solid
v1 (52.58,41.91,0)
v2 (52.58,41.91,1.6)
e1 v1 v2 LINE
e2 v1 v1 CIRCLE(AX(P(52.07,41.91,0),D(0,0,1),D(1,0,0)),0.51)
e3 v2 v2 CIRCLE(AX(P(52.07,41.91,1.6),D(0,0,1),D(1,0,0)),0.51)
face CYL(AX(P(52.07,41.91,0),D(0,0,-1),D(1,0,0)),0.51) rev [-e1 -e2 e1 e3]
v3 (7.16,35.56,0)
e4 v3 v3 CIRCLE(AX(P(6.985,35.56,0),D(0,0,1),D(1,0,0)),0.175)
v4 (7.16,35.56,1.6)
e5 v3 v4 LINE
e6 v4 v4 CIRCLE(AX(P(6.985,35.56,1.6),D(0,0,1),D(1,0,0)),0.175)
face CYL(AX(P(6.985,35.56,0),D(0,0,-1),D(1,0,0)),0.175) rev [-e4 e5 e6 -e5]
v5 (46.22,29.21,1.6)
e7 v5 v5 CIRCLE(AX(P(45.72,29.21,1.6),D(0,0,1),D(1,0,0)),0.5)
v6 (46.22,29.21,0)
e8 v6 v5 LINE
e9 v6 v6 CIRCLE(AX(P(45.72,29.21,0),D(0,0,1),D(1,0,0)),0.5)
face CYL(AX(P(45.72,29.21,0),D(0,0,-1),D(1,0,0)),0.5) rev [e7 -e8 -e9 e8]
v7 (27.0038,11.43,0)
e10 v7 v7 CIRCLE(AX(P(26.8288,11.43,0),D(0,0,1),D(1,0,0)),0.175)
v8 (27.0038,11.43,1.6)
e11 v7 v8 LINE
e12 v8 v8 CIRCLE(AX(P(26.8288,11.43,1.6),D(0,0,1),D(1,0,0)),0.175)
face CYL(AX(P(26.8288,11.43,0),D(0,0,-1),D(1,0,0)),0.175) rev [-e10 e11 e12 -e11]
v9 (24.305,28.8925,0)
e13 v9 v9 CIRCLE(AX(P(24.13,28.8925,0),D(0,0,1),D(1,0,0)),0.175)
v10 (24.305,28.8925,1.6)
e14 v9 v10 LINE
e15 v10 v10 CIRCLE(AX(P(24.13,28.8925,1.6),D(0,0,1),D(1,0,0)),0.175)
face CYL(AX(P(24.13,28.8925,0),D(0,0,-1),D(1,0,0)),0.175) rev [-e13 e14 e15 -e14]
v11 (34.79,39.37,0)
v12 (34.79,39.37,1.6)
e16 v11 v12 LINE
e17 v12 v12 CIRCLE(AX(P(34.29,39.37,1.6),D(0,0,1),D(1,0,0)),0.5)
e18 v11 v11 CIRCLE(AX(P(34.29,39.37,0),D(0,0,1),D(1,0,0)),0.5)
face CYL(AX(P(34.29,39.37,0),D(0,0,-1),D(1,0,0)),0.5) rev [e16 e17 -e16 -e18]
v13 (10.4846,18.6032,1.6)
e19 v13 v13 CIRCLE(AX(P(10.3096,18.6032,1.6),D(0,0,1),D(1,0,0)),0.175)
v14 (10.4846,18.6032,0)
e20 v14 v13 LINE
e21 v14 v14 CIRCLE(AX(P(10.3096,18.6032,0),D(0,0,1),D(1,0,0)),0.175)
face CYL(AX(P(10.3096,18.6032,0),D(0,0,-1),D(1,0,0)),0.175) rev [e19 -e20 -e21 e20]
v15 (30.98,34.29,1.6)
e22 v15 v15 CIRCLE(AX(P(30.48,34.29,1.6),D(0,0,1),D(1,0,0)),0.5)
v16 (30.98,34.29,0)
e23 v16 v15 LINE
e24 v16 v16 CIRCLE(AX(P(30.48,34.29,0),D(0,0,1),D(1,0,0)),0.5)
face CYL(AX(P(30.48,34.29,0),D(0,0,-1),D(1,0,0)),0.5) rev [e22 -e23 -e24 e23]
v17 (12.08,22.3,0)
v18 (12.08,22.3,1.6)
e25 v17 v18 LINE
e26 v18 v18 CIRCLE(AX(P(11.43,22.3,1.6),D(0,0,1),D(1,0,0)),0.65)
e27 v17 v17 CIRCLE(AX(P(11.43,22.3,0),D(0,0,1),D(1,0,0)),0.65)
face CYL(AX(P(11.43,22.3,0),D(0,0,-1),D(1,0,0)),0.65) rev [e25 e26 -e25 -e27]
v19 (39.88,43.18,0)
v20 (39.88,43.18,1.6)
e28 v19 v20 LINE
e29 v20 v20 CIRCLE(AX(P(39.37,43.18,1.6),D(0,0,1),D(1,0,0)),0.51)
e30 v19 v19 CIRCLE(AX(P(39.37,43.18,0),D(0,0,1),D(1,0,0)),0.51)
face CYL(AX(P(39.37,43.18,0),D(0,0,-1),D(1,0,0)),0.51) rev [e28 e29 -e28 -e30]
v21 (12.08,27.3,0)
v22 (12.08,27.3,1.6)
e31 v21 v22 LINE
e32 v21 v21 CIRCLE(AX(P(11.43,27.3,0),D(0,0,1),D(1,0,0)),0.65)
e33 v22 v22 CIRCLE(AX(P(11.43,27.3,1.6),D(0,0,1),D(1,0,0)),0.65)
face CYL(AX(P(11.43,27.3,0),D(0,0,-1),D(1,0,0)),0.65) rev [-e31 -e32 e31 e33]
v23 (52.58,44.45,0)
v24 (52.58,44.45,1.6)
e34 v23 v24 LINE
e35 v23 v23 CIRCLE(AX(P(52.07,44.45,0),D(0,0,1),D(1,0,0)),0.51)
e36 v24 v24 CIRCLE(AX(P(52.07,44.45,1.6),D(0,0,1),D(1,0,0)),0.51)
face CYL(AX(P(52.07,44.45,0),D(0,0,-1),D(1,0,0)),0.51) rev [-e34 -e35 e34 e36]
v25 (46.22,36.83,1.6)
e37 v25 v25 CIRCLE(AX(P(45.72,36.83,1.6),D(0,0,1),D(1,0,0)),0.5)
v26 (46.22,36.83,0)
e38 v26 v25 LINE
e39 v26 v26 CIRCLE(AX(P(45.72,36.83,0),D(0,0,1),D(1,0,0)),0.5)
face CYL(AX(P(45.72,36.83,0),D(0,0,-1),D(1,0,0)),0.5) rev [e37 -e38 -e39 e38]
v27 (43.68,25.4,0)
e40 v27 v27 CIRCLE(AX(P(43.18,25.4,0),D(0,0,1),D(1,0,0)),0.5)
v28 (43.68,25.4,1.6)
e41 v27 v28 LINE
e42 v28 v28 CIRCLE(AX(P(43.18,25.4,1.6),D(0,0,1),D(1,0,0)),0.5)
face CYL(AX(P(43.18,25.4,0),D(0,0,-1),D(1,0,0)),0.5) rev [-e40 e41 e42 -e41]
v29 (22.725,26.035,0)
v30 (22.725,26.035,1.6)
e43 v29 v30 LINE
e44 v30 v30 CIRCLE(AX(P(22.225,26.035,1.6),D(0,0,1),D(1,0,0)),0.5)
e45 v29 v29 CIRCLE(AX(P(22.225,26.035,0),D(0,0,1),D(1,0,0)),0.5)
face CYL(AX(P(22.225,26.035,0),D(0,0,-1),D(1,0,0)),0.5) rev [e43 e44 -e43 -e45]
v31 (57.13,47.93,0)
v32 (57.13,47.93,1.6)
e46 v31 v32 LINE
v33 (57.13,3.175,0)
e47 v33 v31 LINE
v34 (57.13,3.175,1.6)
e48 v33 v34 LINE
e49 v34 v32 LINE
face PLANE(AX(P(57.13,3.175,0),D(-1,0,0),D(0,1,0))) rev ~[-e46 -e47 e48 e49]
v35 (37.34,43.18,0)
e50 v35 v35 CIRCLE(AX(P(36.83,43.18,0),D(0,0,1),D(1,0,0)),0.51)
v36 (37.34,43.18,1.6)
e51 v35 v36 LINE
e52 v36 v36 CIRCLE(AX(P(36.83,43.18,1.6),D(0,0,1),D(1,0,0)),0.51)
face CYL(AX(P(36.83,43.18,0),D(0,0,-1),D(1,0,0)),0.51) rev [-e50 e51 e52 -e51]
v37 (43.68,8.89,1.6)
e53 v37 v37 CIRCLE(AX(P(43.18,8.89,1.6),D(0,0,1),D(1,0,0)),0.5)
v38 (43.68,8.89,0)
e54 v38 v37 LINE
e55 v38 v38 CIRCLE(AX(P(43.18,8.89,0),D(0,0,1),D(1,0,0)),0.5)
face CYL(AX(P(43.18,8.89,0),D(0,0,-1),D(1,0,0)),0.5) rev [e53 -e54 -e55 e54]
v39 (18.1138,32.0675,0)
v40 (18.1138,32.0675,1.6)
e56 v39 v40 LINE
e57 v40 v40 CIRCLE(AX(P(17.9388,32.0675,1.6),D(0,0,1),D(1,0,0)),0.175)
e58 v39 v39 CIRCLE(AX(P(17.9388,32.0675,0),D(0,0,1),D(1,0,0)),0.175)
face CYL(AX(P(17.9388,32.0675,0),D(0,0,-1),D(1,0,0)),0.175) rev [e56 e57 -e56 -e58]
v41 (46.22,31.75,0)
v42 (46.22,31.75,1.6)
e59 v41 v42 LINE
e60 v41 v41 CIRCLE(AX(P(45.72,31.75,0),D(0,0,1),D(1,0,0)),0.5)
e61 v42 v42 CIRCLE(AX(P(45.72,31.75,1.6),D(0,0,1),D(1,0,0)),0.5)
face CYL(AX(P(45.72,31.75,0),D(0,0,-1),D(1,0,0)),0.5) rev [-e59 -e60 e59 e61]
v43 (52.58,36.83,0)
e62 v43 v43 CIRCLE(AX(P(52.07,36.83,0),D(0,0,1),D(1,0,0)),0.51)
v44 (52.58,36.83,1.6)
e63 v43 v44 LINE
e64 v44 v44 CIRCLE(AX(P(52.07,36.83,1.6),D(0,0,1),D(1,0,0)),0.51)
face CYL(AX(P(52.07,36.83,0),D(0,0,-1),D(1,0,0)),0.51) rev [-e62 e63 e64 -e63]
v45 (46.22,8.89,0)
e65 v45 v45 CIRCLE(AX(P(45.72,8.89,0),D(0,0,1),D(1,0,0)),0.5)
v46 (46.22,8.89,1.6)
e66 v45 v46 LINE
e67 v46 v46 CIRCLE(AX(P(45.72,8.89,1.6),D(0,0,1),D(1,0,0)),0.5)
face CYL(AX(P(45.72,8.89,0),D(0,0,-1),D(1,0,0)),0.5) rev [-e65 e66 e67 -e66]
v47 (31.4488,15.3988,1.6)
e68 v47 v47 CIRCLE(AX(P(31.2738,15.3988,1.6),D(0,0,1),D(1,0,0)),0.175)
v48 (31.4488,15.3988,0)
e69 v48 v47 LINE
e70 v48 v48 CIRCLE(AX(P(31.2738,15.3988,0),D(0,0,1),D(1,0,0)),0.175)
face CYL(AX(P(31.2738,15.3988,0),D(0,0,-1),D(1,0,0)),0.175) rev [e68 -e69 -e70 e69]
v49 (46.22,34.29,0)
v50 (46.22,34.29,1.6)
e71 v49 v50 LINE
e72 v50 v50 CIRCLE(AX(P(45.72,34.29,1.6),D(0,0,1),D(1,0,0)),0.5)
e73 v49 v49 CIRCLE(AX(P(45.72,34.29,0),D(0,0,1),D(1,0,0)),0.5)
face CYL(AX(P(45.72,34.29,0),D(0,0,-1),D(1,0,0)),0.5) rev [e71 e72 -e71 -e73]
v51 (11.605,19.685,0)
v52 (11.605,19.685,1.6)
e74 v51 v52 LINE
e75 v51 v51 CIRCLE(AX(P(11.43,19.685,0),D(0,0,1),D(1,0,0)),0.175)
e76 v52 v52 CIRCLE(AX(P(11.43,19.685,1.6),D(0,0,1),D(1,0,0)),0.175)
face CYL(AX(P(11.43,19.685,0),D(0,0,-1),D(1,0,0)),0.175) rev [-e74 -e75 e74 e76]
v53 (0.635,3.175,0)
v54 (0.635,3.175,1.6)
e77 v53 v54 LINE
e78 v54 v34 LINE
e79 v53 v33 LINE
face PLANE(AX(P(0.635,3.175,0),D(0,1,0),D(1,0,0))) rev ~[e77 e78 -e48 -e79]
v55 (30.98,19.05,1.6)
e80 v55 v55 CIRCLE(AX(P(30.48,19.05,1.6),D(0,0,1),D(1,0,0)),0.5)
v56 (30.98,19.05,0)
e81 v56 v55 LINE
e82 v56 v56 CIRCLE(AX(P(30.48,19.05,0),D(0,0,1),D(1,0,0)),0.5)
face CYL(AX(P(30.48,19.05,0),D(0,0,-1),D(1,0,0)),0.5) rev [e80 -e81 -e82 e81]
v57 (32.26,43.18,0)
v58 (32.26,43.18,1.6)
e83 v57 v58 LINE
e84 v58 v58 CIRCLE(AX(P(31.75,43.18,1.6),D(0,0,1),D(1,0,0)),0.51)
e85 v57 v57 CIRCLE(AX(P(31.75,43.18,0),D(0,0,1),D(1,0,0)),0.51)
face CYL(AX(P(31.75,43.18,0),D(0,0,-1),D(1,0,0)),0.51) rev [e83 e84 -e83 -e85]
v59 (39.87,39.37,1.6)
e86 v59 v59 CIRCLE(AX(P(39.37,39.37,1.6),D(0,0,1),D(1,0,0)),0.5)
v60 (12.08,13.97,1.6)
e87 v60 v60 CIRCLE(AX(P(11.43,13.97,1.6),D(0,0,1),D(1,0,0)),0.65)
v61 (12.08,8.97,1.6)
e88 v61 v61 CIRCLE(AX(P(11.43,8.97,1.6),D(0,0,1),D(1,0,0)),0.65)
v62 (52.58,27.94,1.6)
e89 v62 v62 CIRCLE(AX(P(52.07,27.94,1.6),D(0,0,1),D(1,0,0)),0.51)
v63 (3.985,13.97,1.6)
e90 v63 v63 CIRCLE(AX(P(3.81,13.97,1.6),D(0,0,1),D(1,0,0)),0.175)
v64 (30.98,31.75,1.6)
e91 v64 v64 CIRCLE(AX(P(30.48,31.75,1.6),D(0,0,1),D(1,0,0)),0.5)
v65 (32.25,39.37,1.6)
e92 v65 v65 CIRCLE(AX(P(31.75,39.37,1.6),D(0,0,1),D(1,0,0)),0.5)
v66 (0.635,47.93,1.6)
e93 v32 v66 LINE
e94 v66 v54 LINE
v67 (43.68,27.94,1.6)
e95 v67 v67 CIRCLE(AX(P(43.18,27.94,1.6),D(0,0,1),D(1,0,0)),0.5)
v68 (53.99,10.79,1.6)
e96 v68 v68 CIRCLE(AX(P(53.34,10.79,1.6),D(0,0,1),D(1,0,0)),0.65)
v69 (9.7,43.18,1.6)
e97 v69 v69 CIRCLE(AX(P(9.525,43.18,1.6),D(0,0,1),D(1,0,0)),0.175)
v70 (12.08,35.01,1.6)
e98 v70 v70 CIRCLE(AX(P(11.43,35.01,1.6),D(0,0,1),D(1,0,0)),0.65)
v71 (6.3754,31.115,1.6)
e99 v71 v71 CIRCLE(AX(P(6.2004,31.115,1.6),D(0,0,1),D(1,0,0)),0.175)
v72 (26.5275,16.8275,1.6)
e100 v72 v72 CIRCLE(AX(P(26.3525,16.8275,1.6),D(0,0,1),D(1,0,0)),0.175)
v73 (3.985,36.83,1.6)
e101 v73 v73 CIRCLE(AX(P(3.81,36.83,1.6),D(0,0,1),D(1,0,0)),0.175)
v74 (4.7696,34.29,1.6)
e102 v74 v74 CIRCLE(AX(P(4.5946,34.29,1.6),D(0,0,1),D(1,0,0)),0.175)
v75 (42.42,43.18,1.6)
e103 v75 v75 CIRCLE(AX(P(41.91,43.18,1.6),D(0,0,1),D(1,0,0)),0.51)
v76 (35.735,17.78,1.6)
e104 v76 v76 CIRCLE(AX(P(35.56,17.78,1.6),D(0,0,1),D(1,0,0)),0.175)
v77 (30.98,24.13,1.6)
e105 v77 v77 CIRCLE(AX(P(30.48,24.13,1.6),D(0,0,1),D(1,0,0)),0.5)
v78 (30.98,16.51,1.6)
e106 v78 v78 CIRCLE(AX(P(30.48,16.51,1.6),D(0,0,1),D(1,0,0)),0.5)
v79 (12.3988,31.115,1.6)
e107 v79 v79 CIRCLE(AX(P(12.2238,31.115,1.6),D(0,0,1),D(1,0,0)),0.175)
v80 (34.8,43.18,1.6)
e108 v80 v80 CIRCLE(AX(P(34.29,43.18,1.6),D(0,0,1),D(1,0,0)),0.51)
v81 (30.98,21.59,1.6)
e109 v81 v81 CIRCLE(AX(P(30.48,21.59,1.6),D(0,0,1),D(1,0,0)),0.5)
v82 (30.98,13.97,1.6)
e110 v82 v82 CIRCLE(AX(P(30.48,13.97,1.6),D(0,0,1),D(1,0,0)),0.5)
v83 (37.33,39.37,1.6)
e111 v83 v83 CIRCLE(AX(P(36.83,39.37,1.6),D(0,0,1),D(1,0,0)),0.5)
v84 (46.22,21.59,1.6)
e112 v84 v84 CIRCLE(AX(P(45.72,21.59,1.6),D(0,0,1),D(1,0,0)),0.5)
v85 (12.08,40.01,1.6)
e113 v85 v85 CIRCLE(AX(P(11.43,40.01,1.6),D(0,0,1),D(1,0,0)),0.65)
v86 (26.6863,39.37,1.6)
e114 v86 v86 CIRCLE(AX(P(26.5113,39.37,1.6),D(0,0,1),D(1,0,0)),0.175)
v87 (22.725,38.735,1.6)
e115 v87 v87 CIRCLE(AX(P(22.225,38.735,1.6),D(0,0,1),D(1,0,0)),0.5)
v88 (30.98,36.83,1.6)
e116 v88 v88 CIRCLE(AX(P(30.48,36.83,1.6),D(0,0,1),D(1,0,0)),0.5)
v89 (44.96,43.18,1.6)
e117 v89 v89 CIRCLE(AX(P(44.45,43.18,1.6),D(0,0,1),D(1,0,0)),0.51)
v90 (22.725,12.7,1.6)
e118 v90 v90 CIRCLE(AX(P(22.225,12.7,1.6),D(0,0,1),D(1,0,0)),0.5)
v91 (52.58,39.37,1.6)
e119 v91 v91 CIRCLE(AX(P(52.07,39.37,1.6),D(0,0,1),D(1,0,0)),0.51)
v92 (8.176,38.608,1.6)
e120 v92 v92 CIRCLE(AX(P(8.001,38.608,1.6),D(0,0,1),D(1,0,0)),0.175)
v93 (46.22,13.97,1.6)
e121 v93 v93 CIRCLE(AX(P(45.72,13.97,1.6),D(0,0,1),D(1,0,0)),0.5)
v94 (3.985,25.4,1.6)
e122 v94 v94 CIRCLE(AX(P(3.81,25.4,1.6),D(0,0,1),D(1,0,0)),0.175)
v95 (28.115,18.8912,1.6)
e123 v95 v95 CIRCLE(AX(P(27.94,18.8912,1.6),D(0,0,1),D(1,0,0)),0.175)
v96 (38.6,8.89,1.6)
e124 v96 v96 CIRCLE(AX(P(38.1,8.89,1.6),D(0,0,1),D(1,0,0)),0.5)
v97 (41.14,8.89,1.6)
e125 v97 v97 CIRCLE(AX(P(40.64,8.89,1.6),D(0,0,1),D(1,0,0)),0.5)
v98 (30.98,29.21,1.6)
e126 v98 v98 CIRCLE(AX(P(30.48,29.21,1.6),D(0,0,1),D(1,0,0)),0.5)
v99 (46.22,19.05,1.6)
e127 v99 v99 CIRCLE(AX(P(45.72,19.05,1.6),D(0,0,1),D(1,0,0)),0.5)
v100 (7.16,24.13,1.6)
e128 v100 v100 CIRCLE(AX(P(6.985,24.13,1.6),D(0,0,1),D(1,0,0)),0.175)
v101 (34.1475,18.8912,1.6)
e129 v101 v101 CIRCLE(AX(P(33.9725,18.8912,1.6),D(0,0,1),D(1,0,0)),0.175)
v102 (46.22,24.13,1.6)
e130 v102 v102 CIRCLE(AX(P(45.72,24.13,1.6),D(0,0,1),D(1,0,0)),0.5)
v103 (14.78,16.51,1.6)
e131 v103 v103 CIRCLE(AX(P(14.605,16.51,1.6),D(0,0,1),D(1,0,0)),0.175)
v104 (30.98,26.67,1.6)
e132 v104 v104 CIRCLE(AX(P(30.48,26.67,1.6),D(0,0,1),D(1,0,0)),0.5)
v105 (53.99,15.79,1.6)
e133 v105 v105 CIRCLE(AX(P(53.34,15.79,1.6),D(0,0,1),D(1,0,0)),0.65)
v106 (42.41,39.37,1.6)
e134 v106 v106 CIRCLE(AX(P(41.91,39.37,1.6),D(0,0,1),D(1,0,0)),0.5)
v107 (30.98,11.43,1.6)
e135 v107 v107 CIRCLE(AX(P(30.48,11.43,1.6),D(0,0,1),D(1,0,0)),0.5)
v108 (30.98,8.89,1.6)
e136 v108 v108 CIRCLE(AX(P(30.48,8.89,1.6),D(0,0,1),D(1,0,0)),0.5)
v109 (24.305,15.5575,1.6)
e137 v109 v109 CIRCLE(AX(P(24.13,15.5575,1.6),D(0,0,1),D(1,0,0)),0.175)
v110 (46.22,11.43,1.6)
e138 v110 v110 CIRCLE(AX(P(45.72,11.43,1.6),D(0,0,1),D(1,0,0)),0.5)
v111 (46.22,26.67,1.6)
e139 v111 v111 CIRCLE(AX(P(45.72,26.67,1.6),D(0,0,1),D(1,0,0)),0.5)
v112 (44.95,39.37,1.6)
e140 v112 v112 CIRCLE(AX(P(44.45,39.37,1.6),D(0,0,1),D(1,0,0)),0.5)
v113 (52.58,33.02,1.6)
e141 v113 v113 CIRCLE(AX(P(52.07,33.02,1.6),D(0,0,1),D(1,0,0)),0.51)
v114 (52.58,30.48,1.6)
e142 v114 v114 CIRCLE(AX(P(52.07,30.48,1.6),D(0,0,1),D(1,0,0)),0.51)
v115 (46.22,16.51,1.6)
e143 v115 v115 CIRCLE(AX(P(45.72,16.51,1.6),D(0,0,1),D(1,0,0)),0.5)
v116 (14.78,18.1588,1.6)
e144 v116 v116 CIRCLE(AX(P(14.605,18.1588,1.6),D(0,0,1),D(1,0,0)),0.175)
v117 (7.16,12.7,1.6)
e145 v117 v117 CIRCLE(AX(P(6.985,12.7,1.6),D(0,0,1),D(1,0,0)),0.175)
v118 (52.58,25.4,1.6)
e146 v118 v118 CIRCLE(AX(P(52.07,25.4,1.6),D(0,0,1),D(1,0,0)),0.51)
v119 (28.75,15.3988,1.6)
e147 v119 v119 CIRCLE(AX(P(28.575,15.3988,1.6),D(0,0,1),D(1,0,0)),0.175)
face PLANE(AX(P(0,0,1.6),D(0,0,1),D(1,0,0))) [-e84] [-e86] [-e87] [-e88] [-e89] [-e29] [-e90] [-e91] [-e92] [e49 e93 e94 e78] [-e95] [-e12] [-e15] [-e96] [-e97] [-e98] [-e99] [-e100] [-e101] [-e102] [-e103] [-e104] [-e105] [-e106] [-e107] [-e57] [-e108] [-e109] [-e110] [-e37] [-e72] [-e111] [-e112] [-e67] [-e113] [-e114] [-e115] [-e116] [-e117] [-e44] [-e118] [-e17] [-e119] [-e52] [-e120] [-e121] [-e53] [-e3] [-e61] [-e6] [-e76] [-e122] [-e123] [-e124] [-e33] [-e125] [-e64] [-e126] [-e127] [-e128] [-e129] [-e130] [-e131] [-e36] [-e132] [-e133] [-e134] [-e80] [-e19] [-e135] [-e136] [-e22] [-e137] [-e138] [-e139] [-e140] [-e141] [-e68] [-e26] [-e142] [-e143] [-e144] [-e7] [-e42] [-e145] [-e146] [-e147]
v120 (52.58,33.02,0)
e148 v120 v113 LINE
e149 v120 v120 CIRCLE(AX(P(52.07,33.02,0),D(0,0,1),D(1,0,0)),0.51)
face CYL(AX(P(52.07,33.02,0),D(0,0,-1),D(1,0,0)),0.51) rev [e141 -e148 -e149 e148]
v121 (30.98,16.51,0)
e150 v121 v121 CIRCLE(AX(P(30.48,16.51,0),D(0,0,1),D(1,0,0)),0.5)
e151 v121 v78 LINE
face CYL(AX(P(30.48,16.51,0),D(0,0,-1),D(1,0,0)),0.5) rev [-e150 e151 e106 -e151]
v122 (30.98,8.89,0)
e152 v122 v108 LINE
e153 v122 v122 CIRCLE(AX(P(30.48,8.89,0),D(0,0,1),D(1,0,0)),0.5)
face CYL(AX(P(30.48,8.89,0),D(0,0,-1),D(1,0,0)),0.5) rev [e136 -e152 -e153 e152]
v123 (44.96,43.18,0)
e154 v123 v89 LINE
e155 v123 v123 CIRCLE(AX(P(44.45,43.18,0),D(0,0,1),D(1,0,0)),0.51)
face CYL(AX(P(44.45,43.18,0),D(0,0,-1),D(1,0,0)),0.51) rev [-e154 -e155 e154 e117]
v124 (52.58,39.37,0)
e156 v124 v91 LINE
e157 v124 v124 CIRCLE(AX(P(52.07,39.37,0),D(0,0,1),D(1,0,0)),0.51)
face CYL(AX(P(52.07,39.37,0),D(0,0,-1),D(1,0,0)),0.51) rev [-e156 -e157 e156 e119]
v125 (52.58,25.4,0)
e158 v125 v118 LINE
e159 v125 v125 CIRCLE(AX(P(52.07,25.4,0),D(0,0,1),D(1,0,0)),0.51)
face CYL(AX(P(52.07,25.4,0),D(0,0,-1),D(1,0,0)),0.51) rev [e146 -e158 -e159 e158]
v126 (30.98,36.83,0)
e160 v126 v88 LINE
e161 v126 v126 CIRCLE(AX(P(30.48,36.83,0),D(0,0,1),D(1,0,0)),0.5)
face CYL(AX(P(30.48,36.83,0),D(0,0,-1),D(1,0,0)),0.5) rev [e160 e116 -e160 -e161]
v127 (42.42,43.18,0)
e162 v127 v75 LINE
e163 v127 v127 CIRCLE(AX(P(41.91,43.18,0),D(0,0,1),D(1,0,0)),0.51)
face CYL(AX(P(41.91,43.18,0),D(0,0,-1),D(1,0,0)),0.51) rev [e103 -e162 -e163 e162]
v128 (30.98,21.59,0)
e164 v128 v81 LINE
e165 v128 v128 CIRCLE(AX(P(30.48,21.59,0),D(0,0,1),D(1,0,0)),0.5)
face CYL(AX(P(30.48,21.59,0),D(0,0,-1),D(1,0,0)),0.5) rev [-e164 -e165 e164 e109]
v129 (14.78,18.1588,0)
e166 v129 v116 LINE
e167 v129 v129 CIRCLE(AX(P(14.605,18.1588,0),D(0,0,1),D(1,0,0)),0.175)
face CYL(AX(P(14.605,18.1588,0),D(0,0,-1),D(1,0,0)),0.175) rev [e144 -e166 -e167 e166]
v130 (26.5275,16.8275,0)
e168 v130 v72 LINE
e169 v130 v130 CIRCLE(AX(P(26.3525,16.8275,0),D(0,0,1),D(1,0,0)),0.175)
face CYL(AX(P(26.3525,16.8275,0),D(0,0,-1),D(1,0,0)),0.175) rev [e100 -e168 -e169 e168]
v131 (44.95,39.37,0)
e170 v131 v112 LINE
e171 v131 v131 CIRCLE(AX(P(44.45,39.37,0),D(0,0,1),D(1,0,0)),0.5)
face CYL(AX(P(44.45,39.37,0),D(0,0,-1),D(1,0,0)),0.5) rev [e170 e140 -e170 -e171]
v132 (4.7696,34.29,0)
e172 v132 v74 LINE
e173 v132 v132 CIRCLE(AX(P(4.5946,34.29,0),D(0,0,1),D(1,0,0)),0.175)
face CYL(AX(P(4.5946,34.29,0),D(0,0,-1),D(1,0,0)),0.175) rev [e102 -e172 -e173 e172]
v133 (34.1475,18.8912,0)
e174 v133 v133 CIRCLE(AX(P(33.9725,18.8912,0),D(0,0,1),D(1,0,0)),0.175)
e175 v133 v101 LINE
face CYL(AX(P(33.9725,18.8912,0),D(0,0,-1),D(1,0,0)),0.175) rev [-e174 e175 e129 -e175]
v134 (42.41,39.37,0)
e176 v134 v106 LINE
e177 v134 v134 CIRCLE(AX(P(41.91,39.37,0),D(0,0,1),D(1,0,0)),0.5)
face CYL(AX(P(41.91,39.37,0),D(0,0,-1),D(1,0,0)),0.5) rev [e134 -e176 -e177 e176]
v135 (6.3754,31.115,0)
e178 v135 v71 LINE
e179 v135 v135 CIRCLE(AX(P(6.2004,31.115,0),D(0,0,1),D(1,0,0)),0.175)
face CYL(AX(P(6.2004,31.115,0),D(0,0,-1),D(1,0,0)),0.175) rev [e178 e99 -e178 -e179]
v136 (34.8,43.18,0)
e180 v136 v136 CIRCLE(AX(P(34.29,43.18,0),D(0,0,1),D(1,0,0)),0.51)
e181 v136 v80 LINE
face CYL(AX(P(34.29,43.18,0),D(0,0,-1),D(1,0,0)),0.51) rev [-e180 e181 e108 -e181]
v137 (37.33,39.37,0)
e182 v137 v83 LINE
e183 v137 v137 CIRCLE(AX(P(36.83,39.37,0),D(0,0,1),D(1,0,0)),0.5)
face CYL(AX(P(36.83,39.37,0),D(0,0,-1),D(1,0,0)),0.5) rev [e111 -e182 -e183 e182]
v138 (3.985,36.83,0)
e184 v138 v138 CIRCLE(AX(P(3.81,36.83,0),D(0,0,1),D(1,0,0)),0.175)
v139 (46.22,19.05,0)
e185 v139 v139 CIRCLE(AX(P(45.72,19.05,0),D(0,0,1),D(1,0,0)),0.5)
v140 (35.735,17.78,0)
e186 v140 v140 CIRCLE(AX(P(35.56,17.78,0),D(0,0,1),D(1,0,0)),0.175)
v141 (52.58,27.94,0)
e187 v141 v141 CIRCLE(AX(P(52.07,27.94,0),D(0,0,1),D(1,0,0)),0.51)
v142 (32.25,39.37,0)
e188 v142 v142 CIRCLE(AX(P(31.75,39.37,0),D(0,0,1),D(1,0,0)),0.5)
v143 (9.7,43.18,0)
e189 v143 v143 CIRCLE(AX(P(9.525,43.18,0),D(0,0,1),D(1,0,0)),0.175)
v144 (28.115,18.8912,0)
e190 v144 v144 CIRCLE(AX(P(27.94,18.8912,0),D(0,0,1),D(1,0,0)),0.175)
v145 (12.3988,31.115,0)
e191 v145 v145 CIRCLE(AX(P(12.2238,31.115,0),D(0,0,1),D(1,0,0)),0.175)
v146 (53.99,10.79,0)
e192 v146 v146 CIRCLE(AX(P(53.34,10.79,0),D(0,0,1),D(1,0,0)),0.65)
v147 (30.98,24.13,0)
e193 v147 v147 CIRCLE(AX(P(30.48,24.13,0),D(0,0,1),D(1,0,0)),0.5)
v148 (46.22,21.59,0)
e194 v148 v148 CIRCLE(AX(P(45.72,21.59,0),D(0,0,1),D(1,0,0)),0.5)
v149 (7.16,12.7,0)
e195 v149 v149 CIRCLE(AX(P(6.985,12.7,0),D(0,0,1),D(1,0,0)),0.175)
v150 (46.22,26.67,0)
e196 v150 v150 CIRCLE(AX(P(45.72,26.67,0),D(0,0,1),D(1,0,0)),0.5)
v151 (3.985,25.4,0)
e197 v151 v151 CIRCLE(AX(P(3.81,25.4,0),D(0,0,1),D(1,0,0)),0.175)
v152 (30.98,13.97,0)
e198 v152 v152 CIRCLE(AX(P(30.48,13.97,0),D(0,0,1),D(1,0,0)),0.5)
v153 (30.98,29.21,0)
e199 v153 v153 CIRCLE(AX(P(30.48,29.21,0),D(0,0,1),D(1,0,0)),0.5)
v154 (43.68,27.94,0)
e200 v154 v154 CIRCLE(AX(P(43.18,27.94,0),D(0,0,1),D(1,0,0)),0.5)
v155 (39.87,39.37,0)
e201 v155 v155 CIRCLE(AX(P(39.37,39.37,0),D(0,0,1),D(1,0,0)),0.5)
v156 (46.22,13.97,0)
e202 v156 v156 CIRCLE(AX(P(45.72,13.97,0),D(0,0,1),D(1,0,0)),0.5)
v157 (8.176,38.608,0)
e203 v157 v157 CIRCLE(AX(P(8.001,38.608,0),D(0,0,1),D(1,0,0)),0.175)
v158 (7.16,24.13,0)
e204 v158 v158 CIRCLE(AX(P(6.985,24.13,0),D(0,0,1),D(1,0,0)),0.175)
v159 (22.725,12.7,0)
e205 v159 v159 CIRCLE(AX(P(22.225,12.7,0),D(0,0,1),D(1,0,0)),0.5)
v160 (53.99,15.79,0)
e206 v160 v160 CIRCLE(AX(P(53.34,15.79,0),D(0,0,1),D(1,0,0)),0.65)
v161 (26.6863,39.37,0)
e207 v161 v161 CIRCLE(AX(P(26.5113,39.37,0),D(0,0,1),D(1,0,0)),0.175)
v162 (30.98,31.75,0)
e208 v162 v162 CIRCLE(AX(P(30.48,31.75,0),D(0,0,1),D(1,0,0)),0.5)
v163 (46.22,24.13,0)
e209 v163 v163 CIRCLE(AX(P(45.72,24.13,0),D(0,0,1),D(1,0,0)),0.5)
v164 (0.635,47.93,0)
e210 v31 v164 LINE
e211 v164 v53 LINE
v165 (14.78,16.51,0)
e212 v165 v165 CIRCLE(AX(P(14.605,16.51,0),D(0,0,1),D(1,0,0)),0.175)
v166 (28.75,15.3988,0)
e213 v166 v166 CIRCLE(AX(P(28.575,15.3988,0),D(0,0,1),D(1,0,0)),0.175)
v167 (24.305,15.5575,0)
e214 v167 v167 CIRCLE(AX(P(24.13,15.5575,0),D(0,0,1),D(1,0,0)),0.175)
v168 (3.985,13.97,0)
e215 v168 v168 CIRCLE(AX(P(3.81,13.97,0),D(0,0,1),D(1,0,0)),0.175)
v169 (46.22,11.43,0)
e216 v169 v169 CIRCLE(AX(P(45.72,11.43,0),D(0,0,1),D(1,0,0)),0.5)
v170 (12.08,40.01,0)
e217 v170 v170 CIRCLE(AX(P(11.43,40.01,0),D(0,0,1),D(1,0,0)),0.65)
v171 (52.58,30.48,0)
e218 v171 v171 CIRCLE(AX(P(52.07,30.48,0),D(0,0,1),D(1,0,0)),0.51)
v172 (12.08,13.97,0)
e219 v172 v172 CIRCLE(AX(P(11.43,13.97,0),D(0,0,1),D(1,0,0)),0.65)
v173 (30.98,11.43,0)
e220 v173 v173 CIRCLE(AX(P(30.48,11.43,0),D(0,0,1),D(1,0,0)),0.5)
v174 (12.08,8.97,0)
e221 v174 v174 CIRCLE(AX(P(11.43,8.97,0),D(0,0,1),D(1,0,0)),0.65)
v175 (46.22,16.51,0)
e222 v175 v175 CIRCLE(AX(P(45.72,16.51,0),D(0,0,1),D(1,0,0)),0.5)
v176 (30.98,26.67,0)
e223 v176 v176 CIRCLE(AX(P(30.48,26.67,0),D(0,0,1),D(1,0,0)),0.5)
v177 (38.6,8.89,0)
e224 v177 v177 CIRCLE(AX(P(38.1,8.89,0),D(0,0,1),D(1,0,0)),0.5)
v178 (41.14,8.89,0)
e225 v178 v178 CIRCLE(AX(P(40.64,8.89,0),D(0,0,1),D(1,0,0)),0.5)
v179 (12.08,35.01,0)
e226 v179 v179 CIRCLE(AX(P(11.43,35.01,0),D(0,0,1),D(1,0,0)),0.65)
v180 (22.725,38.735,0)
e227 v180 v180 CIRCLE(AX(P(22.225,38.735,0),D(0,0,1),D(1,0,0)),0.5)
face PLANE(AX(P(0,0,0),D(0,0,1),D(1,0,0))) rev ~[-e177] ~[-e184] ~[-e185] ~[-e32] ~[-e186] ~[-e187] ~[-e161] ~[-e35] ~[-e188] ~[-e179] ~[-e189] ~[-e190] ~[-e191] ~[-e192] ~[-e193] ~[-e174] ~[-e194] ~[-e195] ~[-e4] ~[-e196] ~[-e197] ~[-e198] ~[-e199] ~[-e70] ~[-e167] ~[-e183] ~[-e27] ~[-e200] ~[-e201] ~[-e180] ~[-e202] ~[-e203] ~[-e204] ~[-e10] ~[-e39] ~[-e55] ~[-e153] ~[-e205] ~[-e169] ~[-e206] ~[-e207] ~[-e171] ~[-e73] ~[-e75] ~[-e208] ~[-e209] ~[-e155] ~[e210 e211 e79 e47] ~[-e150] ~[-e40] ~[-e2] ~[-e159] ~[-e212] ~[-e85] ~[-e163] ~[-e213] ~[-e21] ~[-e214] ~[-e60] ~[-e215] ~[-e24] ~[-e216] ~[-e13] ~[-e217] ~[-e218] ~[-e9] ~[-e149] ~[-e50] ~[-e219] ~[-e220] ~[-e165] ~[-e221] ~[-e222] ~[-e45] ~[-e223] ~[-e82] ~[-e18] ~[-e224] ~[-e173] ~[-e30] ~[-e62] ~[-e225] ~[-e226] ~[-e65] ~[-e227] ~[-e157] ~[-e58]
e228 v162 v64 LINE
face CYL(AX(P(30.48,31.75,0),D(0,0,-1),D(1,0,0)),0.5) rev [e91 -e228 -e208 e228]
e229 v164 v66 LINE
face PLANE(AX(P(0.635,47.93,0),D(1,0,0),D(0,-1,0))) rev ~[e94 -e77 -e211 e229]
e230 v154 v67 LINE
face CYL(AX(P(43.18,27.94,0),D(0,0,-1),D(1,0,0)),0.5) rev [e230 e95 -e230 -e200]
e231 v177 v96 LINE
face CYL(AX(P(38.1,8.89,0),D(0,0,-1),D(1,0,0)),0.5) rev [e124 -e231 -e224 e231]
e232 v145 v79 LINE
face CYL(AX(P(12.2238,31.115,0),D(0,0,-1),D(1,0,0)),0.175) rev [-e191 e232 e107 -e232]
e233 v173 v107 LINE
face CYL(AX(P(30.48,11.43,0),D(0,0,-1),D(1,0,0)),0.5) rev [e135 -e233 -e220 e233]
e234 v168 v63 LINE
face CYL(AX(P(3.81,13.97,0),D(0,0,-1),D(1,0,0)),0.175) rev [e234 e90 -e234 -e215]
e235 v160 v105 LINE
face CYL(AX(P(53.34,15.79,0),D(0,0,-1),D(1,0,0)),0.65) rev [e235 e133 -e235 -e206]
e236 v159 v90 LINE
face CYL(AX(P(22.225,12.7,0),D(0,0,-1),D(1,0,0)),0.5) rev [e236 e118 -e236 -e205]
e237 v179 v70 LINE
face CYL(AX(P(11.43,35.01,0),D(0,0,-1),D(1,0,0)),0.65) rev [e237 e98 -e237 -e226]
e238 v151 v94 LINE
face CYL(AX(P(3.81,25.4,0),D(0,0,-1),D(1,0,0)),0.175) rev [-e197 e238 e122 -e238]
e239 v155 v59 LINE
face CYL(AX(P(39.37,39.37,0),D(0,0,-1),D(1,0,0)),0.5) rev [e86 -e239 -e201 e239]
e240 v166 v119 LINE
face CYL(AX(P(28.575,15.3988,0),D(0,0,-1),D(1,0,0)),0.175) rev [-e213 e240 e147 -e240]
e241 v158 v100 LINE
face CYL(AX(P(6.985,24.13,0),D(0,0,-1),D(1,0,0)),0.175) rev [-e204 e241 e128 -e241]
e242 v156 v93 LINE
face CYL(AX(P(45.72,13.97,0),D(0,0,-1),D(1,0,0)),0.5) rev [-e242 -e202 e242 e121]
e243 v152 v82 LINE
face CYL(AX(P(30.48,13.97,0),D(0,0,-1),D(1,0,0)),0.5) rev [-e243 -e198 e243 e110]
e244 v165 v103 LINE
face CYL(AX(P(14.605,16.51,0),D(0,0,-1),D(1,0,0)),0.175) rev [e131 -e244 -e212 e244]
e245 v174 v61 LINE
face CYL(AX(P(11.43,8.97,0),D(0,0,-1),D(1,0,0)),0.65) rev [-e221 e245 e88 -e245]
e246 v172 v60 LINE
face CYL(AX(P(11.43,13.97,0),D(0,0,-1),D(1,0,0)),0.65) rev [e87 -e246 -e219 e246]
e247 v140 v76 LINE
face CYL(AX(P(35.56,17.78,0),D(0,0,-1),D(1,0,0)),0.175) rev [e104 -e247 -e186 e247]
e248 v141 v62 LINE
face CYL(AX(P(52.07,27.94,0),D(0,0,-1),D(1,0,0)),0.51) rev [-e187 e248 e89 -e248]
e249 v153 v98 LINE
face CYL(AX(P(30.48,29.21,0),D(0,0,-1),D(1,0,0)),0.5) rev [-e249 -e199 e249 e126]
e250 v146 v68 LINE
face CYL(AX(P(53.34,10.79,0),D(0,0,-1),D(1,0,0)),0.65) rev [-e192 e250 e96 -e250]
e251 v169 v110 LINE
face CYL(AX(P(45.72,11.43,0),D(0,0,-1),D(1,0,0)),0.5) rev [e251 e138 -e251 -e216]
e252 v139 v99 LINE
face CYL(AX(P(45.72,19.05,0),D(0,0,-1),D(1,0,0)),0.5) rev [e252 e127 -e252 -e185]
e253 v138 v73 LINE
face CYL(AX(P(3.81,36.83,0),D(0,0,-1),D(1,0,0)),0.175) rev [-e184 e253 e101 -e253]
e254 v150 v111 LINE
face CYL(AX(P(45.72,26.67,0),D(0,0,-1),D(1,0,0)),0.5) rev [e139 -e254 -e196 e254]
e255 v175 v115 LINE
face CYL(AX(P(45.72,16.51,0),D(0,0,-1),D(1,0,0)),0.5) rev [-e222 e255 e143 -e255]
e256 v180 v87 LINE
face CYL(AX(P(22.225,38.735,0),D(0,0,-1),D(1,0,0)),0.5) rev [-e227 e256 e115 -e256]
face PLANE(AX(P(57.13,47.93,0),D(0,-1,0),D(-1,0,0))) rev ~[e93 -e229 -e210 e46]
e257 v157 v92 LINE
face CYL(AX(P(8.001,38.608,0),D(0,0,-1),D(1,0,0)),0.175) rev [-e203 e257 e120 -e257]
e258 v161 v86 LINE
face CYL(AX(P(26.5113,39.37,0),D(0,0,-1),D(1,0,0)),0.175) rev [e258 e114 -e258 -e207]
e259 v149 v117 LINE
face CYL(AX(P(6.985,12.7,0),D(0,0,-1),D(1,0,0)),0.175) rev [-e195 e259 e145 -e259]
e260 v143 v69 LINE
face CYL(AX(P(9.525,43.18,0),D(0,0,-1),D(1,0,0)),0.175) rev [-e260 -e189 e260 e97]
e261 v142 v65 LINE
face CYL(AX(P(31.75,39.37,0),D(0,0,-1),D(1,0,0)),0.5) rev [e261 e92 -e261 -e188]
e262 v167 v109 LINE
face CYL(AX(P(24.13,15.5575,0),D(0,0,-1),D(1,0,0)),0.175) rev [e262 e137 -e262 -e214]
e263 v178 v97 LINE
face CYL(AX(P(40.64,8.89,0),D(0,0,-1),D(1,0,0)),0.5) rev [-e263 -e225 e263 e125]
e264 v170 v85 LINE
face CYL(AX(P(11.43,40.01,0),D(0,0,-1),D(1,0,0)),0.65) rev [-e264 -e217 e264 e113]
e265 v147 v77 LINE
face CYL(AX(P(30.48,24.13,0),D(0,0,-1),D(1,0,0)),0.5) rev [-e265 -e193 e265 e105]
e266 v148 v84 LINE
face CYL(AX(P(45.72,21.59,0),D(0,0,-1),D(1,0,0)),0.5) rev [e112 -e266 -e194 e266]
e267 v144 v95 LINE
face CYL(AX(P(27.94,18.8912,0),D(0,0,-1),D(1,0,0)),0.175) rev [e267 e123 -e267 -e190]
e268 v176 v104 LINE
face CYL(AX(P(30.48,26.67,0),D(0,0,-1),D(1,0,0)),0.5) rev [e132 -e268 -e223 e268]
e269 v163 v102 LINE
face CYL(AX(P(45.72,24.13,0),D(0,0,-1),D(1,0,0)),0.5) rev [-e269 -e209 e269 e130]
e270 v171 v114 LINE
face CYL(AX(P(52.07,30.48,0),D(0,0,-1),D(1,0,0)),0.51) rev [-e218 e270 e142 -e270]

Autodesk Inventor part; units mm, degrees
ref_plane "YZ Plane" through (0, 0, 0) normal (1, 0, 0) x (0, 1, 0)
ref_plane "XZ Plane" through (0, 0, 0) normal (0, 1, 0) x (-1, 0, 0)
ref_plane "XY Plane" through (0, 0, 0) normal (0, 0, 1) x (1, 0, 0)
sketch "Sketch1" plane through (0, 0, 0) normal (0, 0, 1) x (1, 0, 0)
  line L0 (0.635, 3.175) -> (57.13, 3.175)
  line L1 (57.13, 3.175) -> (57.13, 47.93)
  line L2 (57.13, 47.93) -> (0.635, 47.93)
  line L3 (0.635, 47.93) -> (0.635, 3.175)
  circle A0 centre (45.72, 19.05) radius 0.5
  circle A1 centre (45.72, 21.59) radius 0.5
  circle A2 centre (45.72, 24.13) radius 0.5
  circle A3 centre (45.72, 26.67) radius 0.5
  circle A4 centre (43.18, 25.4) radius 0.5
  circle A5 centre (43.18, 27.94) radius 0.5
  circle A6 centre (40.64, 8.89) radius 0.5
  circle A7 centre (43.18, 8.89) radius 0.5
  circle A8 centre (44.45, 39.37) radius 0.5
  circle A9 centre (30.48, 26.67) radius 0.5
  circle A10 centre (30.48, 24.13) radius 0.5
  circle A11 centre (30.48, 21.59) radius 0.5
  circle A12 centre (30.48, 19.05) radius 0.5
  circle A13 centre (30.48, 16.51) radius 0.5
  circle A14 centre (30.48, 13.97) radius 0.5
  circle A15 centre (30.48, 11.43) radius 0.5
  circle A16 centre (30.48, 8.89) radius 0.5
  circle A17 centre (45.72, 8.89) radius 0.5
  circle A18 centre (45.72, 11.43) radius 0.5
  circle A19 centre (45.72, 13.97) radius 0.5
  circle A20 centre (45.72, 16.51) radius 0.5
  circle A21 centre (31.75, 39.37) radius 0.5
  circle A22 centre (30.48, 29.21) radius 0.5
  circle A23 centre (45.72, 34.29) radius 0.5
  circle A24 centre (41.91, 39.37) radius 0.5
  circle A25 centre (38.1, 8.89) radius 0.5
  circle A26 centre (45.72, 36.83) radius 0.5
  circle A27 centre (45.72, 31.75) radius 0.5
  circle A28 centre (30.48, 31.75) radius 0.5
  circle A29 centre (30.48, 34.29) radius 0.5
  circle A30 centre (36.83, 39.37) radius 0.5
  circle A31 centre (30.48, 36.83) radius 0.5
  circle A32 centre (34.29, 39.37) radius 0.5
  circle A33 centre (45.72, 29.21) radius 0.5
  circle A34 centre (39.37, 39.37) radius 0.5
  circle A35 centre (11.43, 13.97) radius 0.65
  circle A36 centre (11.43, 8.97) radius 0.65
  circle A37 centre (11.43, 27.3) radius 0.65
  circle A38 centre (11.43, 22.3) radius 0.65
  circle A39 centre (11.43, 40.01) radius 0.65
  circle A40 centre (11.43, 35.01) radius 0.65
  circle A41 centre (53.34, 10.79) radius 0.65
  circle A42 centre (53.34, 15.79) radius 0.65
  circle A43 centre (44.45, 43.18) radius 0.51
  circle A44 centre (41.91, 43.18) radius 0.51
  circle A45 centre (39.37, 43.18) radius 0.51
  circle A46 centre (36.83, 43.18) radius 0.51
  circle A47 centre (34.29, 43.18) radius 0.51
  circle A48 centre (31.75, 43.18) radius 0.51
  circle A49 centre (52.07, 44.45) radius 0.51
  circle A50 centre (52.07, 41.91) radius 0.51
  circle A51 centre (52.07, 39.37) radius 0.51
  circle A52 centre (52.07, 36.83) radius 0.51
  circle A53 centre (52.07, 33.02) radius 0.51
  circle A54 centre (52.07, 30.48) radius 0.51
  circle A55 centre (52.07, 27.94) radius 0.51
  circle A56 centre (52.07, 25.4) radius 0.51
  circle A57 centre (3.81, 36.83) radius 0.175
  circle A58 centre (3.81, 25.4) radius 0.175
  circle A59 centre (3.81, 13.97) radius 0.175
  circle A60 centre (9.525, 43.18) radius 0.175
  circle A61 centre (24.13, 15.5575) radius 0.175
  circle A62 centre (24.13, 28.8925) radius 0.175
  circle A63 centre (22.225, 38.735) radius 0.5
  circle A64 centre (22.225, 26.035) radius 0.5
  circle A65 centre (22.225, 12.7) radius 0.5
  circle A66 centre (6.985, 35.56) radius 0.175
  circle A67 centre (6.985, 24.13) radius 0.175
  circle A68 centre (6.985, 12.7) radius 0.175
  circle A69 centre (8.001, 38.608) radius 0.175
  circle A70 centre (17.9388, 32.0675) radius 0.175
  circle A71 centre (12.2238, 31.115) radius 0.175
  circle A72 centre (28.575, 15.3988) radius 0.175
  circle A73 centre (31.2738, 15.3988) radius 0.175
  circle A74 centre (27.94, 18.8912) radius 0.175
  circle A75 centre (26.3525, 16.8275) radius 0.175
  circle A76 centre (26.5113, 39.37) radius 0.175
  circle A77 centre (14.605, 16.51) radius 0.175
  circle A78 centre (14.605, 18.1588) radius 0.175
  circle A79 centre (10.3096, 18.6032) radius 0.175
  circle A80 centre (11.43, 19.685) radius 0.175
  circle A81 centre (26.8288, 11.43) radius 0.175
  circle A82 centre (33.9725, 18.8912) radius 0.175
  circle A83 centre (4.5946, 34.29) radius 0.175
  circle A84 centre (6.2004, 31.115) radius 0.175
  circle A85 centre (35.56, 17.78) radius 0.175
extrude "dog_driver_5.brd_Outline" add sketch "Sketch1" along normal blind 1.6
properties part number "dog_driver_5.brd_Outline"
